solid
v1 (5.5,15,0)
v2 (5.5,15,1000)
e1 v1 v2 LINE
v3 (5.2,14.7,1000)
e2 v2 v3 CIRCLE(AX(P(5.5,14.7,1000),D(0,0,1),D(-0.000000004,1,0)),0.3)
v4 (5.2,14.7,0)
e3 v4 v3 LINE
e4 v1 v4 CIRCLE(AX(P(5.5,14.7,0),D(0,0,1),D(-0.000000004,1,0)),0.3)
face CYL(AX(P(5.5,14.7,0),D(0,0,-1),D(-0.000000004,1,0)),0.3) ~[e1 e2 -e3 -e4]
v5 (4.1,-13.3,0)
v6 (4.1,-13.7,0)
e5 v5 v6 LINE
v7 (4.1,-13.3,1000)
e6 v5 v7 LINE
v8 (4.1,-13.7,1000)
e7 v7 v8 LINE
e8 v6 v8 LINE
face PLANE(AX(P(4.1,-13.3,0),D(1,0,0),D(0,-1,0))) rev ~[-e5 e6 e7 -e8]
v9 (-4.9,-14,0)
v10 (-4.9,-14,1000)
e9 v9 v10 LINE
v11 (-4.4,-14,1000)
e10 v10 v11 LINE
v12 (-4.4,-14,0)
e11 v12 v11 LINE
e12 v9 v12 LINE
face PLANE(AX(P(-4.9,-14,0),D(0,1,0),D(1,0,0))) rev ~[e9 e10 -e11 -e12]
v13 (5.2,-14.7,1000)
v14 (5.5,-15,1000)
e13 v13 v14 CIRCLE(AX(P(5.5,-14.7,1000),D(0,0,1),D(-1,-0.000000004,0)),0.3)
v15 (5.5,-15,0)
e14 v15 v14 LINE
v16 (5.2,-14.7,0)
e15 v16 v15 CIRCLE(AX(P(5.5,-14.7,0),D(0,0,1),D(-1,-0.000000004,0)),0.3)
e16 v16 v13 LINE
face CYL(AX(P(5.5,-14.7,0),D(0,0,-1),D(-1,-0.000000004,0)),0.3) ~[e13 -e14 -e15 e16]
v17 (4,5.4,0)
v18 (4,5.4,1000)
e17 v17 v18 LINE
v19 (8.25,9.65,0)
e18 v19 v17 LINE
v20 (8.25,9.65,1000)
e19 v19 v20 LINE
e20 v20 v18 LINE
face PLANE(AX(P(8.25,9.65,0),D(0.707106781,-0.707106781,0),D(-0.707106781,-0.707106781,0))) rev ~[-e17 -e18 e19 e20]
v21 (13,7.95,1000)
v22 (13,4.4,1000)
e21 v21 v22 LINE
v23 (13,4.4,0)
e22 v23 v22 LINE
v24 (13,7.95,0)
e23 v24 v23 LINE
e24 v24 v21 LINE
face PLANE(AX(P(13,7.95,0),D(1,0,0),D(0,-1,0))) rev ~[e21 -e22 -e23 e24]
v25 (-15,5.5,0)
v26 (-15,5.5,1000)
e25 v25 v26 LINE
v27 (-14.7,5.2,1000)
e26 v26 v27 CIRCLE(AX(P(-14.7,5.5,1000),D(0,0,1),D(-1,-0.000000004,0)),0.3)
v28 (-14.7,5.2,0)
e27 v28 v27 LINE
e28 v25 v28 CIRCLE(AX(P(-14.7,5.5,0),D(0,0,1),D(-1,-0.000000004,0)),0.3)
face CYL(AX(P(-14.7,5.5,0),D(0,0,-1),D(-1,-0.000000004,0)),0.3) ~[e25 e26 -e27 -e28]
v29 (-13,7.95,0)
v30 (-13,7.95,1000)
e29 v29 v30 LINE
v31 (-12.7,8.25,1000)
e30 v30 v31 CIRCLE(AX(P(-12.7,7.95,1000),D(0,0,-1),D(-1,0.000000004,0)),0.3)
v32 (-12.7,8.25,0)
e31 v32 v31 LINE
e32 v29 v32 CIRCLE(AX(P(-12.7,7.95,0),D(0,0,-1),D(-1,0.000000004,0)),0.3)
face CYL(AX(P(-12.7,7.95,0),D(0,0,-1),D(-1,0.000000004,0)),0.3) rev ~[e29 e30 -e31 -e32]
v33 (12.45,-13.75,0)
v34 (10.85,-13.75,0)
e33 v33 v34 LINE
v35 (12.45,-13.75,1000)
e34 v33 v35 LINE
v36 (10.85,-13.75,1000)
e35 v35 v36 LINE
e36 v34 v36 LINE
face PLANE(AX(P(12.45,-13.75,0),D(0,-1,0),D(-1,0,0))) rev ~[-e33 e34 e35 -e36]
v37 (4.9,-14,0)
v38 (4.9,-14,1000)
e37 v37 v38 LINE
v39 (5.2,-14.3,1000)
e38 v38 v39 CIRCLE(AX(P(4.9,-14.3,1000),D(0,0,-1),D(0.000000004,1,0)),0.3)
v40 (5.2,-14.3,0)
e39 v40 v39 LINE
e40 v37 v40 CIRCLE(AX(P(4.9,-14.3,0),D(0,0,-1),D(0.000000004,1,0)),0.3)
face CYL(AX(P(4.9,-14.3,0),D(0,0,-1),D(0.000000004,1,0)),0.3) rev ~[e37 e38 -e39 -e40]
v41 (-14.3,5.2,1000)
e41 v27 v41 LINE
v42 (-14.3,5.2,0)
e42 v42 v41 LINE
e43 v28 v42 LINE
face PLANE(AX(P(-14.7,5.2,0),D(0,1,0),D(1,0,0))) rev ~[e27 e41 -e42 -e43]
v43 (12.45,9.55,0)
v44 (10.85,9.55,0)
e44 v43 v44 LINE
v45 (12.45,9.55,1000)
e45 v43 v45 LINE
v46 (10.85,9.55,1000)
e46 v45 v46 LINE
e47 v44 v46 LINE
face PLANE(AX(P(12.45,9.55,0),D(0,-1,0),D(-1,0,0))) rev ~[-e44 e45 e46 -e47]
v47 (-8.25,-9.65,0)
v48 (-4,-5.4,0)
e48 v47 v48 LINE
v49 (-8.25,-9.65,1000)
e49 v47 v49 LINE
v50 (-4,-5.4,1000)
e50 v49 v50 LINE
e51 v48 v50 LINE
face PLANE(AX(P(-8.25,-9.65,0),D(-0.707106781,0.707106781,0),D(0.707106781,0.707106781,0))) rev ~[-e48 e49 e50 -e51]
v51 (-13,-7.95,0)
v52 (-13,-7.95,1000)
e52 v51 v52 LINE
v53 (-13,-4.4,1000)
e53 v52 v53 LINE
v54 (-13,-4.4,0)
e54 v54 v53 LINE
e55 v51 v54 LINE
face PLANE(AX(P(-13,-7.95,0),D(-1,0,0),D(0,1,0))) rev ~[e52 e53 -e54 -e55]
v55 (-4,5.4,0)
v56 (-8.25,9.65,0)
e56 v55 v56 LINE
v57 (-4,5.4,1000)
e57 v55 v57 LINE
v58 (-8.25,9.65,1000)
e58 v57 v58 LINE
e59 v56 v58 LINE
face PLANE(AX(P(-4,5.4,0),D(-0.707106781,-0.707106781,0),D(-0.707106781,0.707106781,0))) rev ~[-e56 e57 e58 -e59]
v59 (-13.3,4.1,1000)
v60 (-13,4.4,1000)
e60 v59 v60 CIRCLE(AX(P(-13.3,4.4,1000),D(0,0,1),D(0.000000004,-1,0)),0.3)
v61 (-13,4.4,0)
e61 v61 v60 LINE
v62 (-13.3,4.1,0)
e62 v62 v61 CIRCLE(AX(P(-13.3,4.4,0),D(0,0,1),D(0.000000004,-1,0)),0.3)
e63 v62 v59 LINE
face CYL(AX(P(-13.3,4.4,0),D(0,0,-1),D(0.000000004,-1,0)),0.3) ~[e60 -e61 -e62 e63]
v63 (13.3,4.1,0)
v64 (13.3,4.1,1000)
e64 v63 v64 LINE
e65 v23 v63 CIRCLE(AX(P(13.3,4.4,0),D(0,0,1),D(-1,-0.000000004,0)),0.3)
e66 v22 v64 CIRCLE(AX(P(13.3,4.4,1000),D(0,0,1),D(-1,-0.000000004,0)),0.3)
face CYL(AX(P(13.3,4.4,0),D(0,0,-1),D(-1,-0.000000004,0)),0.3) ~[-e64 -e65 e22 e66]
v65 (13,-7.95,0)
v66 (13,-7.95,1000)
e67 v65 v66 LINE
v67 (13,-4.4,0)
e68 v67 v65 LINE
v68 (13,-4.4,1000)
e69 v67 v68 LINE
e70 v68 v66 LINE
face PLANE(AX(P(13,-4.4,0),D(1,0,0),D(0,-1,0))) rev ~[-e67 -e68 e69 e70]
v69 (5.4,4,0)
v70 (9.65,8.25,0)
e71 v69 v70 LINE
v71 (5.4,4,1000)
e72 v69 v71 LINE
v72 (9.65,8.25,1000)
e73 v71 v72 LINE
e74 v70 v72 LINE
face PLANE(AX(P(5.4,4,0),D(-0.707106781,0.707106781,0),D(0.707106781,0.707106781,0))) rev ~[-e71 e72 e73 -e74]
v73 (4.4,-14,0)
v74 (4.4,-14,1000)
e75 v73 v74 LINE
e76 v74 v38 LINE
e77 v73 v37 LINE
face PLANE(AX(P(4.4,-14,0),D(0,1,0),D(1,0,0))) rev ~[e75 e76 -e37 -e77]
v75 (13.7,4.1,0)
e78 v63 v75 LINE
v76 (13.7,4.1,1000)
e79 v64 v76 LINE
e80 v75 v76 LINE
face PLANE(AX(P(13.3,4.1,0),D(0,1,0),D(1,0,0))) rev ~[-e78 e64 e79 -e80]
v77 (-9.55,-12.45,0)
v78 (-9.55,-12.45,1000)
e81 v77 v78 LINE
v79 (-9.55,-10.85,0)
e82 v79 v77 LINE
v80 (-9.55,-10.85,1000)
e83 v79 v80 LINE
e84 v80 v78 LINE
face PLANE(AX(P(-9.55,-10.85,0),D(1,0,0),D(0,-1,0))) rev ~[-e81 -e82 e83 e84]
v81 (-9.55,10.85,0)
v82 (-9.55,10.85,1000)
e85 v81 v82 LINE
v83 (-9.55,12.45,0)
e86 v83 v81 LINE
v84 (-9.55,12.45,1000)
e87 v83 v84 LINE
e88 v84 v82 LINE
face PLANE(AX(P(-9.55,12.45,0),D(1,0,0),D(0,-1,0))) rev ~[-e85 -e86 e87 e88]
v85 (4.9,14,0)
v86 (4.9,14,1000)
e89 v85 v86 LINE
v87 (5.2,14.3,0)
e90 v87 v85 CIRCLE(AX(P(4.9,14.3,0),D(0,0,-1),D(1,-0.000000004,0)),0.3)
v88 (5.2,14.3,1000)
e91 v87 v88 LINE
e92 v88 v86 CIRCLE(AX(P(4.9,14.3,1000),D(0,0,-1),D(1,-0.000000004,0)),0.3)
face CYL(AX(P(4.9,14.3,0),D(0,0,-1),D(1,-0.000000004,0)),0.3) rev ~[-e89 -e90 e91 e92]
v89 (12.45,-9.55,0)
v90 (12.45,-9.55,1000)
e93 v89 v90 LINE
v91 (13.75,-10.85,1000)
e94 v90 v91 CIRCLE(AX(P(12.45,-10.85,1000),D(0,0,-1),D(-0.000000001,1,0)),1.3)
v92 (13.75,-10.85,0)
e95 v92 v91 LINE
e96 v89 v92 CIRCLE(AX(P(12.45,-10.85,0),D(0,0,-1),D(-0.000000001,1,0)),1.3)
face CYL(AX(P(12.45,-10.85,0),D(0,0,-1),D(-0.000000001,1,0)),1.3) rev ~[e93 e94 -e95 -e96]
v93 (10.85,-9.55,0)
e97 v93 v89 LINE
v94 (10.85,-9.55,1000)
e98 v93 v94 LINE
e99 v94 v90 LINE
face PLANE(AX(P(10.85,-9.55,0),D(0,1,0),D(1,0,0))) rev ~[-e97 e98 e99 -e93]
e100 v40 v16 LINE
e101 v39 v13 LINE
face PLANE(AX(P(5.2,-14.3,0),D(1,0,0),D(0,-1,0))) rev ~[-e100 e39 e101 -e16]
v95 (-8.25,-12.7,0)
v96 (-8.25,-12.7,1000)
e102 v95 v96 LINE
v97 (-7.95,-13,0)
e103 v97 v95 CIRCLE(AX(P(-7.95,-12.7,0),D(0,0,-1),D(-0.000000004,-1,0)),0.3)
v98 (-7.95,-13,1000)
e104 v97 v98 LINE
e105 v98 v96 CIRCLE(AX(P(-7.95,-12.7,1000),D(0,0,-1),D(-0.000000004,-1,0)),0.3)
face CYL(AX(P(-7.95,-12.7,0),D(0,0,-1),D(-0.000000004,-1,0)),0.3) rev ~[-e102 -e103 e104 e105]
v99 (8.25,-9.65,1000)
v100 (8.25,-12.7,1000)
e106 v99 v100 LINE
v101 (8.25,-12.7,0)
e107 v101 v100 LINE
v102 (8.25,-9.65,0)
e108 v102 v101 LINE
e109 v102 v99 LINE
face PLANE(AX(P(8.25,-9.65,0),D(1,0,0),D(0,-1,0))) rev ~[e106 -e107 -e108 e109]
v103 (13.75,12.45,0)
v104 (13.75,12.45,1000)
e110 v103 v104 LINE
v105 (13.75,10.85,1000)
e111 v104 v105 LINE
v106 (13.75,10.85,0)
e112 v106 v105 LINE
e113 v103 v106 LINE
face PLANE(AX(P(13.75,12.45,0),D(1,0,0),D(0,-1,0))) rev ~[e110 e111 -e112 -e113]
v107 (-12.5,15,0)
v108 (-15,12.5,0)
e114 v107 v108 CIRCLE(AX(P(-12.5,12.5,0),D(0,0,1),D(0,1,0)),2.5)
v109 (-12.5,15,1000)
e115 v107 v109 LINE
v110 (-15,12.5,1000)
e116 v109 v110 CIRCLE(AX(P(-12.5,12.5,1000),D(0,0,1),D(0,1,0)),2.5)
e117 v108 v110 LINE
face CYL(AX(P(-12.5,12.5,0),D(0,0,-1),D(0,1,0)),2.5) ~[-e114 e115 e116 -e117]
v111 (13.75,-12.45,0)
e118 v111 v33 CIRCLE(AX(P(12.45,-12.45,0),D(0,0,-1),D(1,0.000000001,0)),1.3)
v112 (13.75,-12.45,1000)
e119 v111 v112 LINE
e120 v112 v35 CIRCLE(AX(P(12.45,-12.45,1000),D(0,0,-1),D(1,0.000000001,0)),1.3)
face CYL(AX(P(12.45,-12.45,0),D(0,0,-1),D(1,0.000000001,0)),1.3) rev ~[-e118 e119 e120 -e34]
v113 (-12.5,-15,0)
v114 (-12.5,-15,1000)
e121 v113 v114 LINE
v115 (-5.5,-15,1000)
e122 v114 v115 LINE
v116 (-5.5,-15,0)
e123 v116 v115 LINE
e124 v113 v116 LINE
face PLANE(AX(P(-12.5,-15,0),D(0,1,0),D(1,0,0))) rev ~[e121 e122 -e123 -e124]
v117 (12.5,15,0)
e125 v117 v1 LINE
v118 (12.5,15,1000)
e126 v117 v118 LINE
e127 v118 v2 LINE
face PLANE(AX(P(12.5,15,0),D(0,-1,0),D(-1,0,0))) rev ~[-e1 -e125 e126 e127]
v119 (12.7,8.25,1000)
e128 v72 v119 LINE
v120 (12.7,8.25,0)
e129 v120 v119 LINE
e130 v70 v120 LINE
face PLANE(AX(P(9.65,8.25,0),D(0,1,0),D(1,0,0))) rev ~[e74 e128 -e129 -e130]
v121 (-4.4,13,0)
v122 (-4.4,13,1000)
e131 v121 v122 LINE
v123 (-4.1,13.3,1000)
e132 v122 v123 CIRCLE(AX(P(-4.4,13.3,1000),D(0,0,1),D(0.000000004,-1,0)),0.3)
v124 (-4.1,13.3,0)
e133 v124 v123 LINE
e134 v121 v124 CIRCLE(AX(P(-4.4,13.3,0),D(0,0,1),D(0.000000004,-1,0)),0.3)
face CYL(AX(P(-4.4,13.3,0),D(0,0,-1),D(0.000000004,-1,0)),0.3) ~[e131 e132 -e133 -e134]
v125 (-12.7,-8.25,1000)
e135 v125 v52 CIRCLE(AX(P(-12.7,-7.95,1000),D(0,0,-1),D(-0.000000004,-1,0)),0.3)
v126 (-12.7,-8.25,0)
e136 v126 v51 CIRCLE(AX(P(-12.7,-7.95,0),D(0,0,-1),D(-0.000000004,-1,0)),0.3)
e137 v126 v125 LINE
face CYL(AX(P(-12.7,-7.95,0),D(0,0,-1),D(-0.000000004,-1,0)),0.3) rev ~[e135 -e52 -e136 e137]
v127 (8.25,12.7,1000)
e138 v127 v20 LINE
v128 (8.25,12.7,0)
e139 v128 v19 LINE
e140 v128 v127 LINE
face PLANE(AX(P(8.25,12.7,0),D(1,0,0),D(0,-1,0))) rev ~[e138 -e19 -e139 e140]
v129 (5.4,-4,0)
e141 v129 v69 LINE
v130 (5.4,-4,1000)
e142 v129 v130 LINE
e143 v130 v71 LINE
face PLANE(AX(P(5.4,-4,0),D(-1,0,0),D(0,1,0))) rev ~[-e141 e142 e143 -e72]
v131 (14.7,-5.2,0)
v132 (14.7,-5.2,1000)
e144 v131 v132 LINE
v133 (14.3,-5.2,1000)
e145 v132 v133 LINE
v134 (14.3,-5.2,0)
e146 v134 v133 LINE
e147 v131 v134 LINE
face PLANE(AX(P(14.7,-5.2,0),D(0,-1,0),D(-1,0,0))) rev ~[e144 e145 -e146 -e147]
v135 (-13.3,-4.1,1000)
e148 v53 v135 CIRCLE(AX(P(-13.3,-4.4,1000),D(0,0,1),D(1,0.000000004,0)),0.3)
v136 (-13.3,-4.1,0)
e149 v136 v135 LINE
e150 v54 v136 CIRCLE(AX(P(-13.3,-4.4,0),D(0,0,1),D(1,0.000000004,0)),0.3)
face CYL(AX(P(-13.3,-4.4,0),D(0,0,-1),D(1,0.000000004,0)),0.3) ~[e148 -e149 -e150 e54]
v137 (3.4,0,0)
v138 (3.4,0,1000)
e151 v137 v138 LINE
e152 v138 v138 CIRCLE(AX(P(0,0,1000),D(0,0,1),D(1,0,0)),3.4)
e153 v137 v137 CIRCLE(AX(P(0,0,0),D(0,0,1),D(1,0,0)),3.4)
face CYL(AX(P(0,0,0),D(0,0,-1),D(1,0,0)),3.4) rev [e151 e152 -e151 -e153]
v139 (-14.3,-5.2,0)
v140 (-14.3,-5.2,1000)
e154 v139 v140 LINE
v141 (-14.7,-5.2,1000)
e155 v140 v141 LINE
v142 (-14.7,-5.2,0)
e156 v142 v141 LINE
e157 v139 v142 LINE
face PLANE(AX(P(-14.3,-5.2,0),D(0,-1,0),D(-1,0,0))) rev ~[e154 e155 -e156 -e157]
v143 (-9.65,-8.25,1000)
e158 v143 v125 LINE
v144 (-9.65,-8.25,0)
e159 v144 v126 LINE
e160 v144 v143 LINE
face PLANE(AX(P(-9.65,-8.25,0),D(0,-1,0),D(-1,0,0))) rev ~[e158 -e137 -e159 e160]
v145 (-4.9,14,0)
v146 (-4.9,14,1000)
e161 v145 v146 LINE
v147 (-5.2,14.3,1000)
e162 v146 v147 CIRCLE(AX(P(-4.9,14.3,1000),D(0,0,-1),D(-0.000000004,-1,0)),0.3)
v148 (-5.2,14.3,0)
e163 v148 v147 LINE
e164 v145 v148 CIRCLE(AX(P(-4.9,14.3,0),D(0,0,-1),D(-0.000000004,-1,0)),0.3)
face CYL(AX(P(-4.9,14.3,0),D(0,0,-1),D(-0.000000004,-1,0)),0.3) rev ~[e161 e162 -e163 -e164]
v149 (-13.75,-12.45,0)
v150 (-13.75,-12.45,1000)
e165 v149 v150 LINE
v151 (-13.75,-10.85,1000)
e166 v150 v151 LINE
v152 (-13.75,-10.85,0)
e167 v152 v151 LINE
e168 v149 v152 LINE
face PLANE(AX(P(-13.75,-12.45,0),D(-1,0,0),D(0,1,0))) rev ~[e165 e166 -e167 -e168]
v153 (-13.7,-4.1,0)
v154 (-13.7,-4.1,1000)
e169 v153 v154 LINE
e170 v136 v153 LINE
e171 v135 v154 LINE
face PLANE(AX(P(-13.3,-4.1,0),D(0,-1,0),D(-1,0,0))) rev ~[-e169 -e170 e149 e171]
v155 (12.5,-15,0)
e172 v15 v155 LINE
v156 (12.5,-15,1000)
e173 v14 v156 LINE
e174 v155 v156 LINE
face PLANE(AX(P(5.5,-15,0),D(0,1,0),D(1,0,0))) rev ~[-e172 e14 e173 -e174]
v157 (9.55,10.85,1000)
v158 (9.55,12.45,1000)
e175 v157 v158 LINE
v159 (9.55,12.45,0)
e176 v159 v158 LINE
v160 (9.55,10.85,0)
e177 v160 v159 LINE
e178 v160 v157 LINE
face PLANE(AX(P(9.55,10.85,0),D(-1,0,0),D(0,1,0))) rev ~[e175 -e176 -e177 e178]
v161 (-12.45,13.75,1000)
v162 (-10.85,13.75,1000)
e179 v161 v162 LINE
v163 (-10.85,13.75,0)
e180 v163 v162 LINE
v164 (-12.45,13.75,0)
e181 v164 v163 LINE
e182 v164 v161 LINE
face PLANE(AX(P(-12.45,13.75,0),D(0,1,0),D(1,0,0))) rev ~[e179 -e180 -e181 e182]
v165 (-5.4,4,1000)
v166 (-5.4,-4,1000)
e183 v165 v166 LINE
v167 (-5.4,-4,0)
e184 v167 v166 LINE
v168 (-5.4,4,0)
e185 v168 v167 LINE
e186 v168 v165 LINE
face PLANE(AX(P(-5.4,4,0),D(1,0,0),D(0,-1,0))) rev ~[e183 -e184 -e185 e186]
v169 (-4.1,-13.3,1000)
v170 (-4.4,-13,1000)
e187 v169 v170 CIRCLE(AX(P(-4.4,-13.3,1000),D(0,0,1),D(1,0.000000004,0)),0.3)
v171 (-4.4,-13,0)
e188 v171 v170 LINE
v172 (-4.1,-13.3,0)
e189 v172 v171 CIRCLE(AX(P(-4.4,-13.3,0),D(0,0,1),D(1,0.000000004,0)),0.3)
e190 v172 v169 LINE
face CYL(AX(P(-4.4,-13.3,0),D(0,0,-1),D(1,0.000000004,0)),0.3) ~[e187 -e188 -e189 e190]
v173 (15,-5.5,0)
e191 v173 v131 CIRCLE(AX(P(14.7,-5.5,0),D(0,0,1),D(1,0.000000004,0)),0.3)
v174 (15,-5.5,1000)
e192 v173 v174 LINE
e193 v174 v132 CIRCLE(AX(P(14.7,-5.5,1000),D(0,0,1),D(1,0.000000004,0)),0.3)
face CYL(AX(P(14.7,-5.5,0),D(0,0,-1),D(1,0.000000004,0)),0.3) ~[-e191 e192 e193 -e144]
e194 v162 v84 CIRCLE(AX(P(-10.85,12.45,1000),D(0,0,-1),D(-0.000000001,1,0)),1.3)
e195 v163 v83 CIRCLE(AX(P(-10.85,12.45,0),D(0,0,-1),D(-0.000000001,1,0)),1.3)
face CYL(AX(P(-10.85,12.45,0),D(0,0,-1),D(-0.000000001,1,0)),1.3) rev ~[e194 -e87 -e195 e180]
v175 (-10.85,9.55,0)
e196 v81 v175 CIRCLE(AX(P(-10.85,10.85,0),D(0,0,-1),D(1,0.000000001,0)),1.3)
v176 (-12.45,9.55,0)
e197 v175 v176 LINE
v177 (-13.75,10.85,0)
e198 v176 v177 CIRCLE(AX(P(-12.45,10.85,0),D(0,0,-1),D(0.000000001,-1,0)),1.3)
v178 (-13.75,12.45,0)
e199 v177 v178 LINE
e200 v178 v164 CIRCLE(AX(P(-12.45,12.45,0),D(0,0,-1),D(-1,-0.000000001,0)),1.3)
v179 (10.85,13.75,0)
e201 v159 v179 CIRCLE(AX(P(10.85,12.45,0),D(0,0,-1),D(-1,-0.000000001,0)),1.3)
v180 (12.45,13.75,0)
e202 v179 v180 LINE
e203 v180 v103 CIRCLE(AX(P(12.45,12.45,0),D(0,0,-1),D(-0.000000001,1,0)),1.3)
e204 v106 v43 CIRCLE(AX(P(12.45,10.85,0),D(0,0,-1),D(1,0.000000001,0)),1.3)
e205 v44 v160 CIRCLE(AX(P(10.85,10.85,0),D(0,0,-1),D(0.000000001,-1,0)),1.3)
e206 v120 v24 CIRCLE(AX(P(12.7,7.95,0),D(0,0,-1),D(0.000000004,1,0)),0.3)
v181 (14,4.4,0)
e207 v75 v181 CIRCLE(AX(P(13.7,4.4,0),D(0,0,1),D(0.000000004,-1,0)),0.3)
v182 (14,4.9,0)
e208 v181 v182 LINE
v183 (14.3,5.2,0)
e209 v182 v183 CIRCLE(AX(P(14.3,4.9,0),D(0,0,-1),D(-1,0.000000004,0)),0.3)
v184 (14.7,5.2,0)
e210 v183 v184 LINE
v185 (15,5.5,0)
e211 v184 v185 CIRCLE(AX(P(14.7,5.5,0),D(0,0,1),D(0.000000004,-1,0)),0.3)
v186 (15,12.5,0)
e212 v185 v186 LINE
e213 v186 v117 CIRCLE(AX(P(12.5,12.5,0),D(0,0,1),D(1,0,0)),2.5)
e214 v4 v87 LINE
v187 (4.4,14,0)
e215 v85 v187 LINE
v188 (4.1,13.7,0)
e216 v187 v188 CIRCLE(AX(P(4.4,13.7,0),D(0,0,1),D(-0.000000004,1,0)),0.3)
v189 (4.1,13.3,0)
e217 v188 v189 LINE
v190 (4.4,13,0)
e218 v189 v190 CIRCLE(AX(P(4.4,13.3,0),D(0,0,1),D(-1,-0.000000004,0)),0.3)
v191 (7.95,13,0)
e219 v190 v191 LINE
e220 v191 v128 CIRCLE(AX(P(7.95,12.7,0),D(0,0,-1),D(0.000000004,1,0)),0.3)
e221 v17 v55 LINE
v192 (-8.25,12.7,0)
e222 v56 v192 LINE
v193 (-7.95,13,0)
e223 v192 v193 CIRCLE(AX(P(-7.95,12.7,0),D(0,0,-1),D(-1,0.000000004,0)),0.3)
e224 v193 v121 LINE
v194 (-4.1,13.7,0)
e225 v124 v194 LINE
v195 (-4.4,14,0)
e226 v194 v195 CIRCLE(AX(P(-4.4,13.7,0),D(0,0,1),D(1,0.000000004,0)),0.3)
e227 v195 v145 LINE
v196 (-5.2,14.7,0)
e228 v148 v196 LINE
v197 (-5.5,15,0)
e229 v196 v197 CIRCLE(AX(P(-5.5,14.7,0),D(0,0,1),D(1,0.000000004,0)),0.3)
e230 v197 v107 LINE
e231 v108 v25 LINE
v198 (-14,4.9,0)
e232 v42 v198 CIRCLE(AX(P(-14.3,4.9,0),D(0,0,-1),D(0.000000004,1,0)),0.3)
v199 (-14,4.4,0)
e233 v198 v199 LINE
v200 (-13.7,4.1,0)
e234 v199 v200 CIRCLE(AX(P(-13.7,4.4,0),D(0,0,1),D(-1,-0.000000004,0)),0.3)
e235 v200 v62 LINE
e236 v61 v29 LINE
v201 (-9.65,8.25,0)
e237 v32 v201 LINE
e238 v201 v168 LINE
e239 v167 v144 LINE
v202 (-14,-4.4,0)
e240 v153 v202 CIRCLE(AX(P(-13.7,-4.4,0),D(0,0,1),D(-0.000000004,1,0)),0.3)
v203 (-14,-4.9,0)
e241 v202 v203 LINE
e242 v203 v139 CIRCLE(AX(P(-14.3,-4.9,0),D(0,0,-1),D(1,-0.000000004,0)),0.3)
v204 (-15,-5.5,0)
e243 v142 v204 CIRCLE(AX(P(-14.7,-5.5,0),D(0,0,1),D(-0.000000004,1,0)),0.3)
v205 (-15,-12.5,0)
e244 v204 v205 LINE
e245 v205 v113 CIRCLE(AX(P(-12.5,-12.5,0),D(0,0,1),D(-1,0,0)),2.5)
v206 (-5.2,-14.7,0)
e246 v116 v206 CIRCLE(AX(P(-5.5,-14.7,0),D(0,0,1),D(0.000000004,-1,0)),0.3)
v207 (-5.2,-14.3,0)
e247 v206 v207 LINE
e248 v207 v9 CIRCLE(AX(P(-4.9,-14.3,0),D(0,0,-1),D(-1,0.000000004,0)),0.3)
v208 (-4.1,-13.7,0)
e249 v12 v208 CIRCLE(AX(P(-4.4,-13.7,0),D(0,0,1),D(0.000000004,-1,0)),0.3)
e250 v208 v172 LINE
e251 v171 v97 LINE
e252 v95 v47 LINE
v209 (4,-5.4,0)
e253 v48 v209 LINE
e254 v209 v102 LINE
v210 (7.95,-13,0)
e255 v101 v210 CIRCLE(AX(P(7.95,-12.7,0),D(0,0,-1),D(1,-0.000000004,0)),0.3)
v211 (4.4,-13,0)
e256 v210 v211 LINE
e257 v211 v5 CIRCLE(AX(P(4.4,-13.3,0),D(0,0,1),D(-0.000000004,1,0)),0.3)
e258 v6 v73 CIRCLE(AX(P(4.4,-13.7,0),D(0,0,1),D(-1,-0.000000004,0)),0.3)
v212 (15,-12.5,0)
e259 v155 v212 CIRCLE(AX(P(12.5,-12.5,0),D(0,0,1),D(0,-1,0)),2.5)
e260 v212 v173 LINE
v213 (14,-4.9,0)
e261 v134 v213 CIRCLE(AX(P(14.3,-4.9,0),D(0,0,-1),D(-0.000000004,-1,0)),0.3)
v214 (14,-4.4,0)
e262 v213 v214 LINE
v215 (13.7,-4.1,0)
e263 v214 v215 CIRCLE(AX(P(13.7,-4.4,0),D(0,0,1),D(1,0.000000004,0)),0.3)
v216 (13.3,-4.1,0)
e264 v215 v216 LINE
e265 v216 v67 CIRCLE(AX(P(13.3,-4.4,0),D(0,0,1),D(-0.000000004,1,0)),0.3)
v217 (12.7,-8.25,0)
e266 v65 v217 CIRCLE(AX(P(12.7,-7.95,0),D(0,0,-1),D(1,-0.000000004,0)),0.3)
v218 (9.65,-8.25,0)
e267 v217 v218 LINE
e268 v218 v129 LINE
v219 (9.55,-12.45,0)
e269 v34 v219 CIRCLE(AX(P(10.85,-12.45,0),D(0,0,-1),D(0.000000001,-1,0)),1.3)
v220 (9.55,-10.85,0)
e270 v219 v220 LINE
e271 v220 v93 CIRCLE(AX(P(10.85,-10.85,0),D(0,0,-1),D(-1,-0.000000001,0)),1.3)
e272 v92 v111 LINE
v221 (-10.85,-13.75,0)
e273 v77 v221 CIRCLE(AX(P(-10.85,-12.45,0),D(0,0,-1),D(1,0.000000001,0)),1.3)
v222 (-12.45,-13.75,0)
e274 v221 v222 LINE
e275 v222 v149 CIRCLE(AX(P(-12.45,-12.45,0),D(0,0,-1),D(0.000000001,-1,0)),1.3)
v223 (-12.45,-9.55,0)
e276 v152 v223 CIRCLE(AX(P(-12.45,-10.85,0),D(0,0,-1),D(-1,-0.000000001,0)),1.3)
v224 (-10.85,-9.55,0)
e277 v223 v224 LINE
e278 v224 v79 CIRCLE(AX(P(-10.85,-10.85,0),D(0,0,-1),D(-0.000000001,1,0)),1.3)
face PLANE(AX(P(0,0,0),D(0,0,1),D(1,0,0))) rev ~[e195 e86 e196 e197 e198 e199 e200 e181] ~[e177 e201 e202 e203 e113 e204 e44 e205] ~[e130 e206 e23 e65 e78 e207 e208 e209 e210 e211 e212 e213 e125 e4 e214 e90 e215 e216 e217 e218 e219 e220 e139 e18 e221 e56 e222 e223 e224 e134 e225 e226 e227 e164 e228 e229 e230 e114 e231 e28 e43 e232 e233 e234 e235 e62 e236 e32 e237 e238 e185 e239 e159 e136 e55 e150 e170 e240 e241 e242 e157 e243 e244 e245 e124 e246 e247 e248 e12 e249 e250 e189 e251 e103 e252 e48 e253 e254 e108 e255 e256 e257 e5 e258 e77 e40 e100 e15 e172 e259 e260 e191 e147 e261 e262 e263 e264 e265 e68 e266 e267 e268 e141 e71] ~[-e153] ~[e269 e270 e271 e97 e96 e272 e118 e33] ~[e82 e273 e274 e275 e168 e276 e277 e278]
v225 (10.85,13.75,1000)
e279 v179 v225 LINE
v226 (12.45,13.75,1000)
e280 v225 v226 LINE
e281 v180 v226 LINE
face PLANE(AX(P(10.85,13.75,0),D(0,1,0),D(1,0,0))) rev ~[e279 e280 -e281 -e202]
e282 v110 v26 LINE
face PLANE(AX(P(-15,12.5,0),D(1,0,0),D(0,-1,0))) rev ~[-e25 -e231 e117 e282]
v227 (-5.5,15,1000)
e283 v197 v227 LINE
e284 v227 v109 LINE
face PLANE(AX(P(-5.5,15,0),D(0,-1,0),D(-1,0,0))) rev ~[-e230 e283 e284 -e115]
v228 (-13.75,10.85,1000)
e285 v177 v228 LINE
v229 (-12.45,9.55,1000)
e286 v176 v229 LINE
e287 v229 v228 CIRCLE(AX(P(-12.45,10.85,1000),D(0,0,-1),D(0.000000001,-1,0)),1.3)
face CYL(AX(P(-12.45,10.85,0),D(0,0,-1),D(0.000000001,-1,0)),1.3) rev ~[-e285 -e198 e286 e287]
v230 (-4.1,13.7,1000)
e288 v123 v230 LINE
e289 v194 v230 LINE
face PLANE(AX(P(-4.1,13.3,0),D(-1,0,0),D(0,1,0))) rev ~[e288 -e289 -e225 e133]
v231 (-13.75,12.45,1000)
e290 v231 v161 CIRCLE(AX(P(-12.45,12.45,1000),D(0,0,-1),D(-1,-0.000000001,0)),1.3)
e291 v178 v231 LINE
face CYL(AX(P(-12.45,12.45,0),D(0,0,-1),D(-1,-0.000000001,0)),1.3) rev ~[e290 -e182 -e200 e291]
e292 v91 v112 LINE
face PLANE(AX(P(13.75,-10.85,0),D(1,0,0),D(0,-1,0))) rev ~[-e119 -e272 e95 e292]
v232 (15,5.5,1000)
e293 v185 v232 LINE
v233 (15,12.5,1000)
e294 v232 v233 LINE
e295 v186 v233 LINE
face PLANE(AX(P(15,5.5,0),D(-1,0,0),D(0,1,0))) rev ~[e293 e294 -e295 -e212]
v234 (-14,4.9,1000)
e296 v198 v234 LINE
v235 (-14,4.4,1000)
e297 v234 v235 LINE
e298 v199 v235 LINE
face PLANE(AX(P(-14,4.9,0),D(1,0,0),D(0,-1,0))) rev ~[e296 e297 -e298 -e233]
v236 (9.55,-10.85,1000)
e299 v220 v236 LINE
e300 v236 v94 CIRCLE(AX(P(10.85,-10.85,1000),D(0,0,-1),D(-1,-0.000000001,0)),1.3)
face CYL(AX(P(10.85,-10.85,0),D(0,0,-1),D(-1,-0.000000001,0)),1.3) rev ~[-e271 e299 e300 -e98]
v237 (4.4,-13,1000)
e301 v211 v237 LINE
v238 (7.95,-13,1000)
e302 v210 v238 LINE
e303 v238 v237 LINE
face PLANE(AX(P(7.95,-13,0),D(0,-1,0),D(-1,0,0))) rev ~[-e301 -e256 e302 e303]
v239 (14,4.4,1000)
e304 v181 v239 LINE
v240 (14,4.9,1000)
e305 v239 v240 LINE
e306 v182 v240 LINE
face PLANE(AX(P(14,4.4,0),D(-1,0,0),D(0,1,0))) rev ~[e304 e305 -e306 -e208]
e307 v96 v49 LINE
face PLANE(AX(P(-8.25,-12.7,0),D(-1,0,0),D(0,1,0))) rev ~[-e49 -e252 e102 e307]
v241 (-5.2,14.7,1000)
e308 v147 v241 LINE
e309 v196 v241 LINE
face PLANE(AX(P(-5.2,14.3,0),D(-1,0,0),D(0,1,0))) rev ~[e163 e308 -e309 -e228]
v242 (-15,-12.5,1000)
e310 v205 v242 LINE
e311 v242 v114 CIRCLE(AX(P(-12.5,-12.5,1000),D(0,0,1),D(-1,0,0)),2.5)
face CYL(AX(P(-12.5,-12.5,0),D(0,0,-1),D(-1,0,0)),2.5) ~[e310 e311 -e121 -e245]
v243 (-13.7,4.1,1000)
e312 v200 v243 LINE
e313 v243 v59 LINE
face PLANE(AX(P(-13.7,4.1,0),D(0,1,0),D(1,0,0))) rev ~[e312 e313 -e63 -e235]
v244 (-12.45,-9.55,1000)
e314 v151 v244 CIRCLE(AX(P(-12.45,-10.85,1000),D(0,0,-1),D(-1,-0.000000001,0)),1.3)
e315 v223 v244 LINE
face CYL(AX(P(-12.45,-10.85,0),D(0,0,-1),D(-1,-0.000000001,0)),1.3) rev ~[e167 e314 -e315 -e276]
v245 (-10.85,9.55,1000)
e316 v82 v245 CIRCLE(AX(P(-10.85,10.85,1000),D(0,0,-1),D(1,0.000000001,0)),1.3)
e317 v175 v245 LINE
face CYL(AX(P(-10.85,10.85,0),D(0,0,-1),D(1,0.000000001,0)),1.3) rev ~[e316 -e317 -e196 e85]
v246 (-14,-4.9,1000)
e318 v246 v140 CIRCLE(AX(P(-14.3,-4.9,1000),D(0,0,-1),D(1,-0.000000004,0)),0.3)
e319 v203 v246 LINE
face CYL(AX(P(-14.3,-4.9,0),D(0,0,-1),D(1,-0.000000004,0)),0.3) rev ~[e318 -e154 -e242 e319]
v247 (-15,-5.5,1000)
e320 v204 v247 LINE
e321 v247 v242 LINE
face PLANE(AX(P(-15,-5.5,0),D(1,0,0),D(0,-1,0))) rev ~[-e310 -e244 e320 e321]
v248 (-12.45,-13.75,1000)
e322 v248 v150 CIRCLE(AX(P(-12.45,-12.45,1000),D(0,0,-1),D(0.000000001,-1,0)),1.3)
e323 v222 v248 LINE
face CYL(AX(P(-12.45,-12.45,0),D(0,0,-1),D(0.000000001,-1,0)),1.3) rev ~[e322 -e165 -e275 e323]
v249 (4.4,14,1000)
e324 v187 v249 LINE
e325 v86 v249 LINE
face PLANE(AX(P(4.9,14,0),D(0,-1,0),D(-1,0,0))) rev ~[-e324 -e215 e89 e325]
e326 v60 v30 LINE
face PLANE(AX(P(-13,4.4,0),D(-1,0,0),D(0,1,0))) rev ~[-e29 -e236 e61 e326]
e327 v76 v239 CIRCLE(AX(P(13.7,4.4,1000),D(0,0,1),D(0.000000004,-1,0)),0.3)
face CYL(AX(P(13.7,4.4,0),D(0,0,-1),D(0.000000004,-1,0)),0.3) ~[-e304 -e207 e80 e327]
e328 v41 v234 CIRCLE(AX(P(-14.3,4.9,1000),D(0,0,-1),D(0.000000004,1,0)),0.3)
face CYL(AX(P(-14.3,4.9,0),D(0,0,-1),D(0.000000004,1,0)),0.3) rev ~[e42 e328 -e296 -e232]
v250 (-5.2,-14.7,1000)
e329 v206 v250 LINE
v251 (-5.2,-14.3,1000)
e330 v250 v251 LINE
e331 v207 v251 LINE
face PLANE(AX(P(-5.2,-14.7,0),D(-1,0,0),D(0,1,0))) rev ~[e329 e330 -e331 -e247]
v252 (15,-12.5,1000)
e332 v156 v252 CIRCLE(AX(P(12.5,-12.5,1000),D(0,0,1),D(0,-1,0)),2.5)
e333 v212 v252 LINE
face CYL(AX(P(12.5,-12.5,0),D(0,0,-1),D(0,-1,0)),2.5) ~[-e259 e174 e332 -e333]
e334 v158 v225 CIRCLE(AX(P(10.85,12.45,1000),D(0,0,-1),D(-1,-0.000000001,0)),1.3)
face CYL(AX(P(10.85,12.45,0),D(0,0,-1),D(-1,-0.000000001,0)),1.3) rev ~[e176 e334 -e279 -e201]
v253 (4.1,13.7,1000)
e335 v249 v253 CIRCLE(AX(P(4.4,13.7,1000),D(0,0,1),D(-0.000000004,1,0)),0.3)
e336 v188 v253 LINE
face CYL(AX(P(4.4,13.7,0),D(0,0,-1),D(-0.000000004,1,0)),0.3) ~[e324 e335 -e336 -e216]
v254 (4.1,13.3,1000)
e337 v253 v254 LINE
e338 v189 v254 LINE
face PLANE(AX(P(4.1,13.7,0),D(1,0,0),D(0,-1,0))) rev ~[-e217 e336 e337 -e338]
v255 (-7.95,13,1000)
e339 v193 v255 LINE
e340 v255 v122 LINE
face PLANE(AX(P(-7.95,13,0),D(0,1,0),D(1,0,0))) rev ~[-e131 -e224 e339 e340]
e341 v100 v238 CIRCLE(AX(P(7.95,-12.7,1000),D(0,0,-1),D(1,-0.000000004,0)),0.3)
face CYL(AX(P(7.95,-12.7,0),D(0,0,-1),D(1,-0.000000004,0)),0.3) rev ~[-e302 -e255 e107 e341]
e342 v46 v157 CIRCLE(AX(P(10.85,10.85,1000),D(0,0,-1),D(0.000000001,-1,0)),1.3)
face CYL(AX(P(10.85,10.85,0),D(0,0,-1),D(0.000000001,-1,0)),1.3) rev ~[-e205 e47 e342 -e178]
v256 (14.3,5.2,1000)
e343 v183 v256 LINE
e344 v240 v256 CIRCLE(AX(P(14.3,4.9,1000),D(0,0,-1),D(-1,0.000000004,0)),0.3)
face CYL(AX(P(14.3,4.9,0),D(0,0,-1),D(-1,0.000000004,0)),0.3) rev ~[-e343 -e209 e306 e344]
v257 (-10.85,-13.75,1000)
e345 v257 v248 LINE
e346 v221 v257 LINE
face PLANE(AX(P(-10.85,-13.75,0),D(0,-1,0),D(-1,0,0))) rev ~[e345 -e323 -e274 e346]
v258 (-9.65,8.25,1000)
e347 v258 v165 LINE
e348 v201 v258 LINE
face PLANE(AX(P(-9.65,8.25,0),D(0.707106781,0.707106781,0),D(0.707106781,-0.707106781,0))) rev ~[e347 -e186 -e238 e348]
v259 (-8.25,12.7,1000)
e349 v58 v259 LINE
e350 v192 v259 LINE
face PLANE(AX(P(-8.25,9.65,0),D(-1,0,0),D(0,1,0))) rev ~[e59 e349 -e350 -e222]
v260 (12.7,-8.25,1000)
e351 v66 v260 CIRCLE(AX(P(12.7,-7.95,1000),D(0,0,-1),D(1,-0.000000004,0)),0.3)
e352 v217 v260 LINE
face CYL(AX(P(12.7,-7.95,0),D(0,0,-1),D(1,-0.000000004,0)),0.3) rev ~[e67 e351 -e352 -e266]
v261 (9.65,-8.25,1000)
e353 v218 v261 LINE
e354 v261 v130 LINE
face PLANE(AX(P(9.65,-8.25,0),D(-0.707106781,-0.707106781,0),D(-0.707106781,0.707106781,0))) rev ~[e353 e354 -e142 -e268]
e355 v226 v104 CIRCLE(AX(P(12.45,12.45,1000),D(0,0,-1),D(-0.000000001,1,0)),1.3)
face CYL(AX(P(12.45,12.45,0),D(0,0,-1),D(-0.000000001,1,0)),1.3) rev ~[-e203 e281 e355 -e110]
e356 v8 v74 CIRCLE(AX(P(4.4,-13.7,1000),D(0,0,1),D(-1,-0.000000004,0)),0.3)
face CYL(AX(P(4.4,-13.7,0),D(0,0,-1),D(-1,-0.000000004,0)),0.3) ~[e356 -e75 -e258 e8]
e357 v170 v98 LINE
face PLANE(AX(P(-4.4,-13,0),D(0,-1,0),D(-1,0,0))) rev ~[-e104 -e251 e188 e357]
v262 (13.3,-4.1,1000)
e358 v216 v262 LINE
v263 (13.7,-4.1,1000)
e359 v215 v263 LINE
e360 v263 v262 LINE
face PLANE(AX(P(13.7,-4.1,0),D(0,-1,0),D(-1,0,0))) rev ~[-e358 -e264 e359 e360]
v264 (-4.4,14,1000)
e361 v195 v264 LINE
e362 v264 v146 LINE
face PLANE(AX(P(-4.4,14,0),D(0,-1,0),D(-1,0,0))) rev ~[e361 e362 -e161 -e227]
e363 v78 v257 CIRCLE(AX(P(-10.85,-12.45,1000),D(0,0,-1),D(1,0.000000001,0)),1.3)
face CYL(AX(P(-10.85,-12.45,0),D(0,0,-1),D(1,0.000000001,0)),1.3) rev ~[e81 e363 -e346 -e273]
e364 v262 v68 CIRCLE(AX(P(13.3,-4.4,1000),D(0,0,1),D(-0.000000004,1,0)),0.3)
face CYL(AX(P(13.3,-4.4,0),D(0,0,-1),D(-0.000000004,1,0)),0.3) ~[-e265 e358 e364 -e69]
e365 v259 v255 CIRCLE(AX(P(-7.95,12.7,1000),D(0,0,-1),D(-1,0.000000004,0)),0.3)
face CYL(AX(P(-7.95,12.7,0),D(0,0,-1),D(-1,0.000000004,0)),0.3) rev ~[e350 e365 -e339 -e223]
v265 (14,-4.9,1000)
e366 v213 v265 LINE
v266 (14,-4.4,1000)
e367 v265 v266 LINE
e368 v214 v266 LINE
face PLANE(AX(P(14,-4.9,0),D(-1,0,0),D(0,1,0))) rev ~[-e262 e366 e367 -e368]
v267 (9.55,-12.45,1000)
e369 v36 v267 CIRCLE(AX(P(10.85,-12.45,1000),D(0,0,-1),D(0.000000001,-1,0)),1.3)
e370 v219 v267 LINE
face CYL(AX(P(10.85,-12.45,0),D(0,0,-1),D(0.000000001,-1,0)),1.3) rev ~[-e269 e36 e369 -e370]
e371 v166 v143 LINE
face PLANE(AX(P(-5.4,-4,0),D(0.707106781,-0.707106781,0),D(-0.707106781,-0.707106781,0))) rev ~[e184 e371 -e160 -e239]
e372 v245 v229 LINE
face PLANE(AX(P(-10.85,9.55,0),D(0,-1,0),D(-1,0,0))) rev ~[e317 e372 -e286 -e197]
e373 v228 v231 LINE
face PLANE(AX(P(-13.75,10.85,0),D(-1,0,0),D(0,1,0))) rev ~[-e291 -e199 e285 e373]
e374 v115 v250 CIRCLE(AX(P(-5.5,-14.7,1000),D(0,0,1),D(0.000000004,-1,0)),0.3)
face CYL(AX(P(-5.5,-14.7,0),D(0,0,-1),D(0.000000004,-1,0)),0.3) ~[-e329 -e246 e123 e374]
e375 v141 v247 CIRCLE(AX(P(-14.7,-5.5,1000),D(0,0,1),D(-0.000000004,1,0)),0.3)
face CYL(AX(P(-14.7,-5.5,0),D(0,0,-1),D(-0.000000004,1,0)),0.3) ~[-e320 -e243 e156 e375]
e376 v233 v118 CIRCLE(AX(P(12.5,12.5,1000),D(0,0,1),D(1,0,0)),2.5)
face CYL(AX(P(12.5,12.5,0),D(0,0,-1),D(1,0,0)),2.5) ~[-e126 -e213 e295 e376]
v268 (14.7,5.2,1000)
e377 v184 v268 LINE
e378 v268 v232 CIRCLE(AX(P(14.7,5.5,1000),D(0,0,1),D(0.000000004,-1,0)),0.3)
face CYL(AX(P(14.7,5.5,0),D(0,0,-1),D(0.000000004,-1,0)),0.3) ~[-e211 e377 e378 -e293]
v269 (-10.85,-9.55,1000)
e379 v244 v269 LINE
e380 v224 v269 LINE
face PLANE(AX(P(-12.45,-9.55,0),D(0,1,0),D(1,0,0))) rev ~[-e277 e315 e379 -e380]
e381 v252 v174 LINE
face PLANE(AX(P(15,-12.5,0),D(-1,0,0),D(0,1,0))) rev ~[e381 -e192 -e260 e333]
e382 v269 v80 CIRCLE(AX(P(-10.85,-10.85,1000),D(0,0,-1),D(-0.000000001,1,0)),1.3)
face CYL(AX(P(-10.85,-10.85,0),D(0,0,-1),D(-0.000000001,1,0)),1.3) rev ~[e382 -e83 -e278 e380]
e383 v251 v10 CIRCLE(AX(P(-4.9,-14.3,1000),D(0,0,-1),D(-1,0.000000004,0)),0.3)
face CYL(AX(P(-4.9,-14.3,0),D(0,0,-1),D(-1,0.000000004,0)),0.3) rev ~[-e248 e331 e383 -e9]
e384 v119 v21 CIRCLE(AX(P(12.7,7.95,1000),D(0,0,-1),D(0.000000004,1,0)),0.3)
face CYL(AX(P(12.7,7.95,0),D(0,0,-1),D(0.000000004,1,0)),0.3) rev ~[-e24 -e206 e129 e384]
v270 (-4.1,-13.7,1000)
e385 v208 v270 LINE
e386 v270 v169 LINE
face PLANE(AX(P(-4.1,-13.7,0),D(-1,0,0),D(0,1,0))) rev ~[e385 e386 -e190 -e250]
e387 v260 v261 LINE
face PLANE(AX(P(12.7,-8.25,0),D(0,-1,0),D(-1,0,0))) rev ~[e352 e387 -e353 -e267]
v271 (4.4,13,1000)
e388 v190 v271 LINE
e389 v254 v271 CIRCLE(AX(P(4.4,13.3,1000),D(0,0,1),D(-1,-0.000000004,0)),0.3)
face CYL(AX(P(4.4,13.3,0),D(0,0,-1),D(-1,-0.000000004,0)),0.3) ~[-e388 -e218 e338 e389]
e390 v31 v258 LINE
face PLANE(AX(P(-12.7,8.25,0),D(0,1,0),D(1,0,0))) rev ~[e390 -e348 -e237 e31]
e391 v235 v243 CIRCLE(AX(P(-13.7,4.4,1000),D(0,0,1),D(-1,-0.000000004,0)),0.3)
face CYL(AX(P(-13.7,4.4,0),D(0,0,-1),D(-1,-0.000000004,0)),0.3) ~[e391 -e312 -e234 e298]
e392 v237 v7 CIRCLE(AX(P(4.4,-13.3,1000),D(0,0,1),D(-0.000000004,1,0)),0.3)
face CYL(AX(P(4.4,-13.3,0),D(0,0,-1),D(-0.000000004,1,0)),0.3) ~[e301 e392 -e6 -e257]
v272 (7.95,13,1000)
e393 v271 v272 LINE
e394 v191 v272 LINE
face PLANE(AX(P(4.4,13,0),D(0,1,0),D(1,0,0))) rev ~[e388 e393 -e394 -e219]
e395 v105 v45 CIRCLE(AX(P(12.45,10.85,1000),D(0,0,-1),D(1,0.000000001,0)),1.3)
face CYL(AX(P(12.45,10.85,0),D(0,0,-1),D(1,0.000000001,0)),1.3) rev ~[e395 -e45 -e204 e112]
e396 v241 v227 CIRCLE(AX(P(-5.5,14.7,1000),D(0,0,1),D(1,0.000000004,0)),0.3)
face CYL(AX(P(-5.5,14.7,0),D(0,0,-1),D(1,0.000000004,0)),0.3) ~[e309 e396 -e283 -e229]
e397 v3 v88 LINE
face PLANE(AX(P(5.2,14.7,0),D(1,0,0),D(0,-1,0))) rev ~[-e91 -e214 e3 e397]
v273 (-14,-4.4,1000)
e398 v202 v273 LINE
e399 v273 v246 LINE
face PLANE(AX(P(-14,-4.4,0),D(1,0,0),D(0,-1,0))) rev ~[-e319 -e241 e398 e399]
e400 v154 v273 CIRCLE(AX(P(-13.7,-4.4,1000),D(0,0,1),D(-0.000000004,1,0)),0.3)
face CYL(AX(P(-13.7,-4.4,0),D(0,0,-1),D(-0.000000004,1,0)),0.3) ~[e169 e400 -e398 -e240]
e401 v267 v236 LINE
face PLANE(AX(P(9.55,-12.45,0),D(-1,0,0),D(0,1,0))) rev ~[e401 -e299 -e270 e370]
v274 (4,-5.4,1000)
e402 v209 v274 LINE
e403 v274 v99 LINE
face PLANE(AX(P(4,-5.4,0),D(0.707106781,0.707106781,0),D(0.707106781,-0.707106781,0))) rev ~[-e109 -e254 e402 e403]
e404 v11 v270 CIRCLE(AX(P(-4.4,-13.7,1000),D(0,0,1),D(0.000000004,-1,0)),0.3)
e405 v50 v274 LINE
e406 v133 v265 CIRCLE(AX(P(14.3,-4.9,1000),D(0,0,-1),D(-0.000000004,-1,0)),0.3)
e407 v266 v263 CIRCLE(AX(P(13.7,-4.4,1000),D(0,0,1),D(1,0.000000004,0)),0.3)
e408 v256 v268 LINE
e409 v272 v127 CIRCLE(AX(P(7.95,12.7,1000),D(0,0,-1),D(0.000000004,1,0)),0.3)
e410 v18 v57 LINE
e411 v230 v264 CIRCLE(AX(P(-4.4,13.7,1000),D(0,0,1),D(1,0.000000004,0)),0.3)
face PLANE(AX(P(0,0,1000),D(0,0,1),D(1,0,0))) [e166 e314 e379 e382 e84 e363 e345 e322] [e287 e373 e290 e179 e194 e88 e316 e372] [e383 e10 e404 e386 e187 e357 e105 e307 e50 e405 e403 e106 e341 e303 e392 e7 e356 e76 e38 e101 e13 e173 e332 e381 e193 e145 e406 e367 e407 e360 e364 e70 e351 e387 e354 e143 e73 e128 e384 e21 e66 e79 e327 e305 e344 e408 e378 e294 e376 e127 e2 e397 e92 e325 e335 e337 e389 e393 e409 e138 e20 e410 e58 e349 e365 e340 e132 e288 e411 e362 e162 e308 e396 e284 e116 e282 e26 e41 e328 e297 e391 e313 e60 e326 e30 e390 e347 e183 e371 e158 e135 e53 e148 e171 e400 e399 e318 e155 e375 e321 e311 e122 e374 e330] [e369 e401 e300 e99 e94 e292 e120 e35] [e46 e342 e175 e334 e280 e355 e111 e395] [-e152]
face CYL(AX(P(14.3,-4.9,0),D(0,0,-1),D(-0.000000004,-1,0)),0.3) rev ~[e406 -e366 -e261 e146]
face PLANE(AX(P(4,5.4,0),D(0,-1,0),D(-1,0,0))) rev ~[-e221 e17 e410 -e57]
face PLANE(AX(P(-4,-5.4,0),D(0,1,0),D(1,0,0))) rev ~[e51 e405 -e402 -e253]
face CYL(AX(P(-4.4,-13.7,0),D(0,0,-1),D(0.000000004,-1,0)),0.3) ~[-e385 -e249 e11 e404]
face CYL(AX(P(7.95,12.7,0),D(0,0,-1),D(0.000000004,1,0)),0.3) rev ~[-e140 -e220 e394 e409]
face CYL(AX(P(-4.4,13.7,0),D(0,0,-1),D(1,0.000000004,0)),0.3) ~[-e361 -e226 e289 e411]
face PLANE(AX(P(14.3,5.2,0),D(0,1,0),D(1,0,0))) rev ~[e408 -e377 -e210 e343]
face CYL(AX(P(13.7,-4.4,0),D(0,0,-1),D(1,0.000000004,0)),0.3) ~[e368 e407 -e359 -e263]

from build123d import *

# Parameters (mm, degrees)
SKETCH_1_R      = 3.4
EXTRUDE_1_DEPTH = 1000


with BuildPart() as part:
    # Эскиз1 → Бобышка-Вытянуть1 (new body)
    with BuildSketch(Plane.XY):
        with BuildLine():
            Line((-15, -8.25), (-15, -12.5))
            ThreePointArc((-15, -12.5), (-14.267766953, -14.267766953), (-12.5, -15))
            Line((-12.5, -15), (-8.25, -15))
            Line((-8.25, -15), (-5.5, -15))
            ThreePointArc((-5.5, -15), (-5.287867966, -14.912132034), (-5.2, -14.7))
            Line((-5.2, -14.7), (-5.2, -14.3))
            ThreePointArc((-5.2, -14.3), (-5.112132034, -14.087867966), (-4.9, -14))
            Line((-4.9, -14), (-4.4, -14))
            ThreePointArc((-4.4, -14), (-4.187867966, -13.912132034), (-4.1, -13.7))
            Line((-4.1, -13.7), (-4.1, -13.3))
            ThreePointArc((-4.1, -13.3), (-4.187867966, -13.087867966), (-4.4, -13))
            Line((-4.4, -13), (-7.95, -13))
            ThreePointArc((-7.95, -13), (-8.162132034, -12.912132034), (-8.25, -12.7))
            Line((-8.25, -12.7), (-8.25, -9.65))
            Line((-8.25, -9.65), (-4, -5.4))
            Line((-4, -5.4), (4, -5.4))
            Line((4, -5.4), (8.25, -9.65))
            Line((8.25, -9.65), (8.25, -12.7))
            ThreePointArc((8.25, -12.7), (8.162132034, -12.912132034), (7.95, -13))
            Line((7.95, -13), (4.4, -13))
            ThreePointArc((4.4, -13), (4.187867966, -13.087867966), (4.1, -13.3))
            Line((4.1, -13.3), (4.1, -13.7))
            ThreePointArc((4.1, -13.7), (4.187867966, -13.912132034), (4.4, -14))
            Line((4.4, -14), (4.9, -14))
            ThreePointArc((4.9, -14), (5.112132034, -14.087867966), (5.2, -14.3))
            Line((5.2, -14.3), (5.2, -14.7))
            ThreePointArc((5.2, -14.7), (5.287867966, -14.912132034), (5.5, -15))
            Line((5.5, -15), (8.25, -15))
            Line((8.25, -15), (12.5, -15))
            ThreePointArc((12.5, -15), (14.267766953, -14.267766953), (15, -12.5))
            Line((15, -12.5), (15, -8.25))
            Line((15, -8.25), (15, -5.5))
            ThreePointArc((15, -5.5), (14.912132034, -5.287867966), (14.7, -5.2))
            Line((14.7, -5.2), (14.3, -5.2))
            ThreePointArc((14.3, -5.2), (14.087867966, -5.112132034), (14, -4.9))
            Line((14, -4.9), (14, -4.4))
            ThreePointArc((14, -4.4), (13.912132034, -4.187867966), (13.7, -4.1))
            Line((13.7, -4.1), (13.3, -4.1))
            ThreePointArc((13.3, -4.1), (13.087867966, -4.187867966), (13, -4.4))
            Line((13, -4.4), (13, -7.95))
            ThreePointArc((13, -7.95), (12.912132034, -8.162132034), (12.7, -8.25))
            Line((12.7, -8.25), (9.65, -8.25))
            Line((9.65, -8.25), (5.4, -4))
            Line((5.4, -4), (5.4, 4))
            Line((5.4, 4), (9.65, 8.25))
            Line((9.65, 8.25), (12.7, 8.25))
            ThreePointArc((12.7, 8.25), (12.912132034, 8.162132034), (13, 7.95))
            Line((13, 7.95), (13, 4.4))
            ThreePointArc((13, 4.4), (13.087867966, 4.187867966), (13.3, 4.1))
            Line((13.3, 4.1), (13.7, 4.1))
            ThreePointArc((13.7, 4.1), (13.912132034, 4.187867966), (14, 4.4))
            Line((14, 4.4), (14, 4.9))
            ThreePointArc((14, 4.9), (14.087867966, 5.112132034), (14.3, 5.2))
            Line((14.3, 5.2), (14.7, 5.2))
            ThreePointArc((14.7, 5.2), (14.912132034, 5.287867966), (15, 5.5))
            Line((15, 5.5), (15, 8.25))
            Line((15, 8.25), (15, 12.5))
            ThreePointArc((15, 12.5), (14.267766953, 14.267766953), (12.5, 15))
            Line((12.5, 15), (8.25, 15))
            Line((8.25, 15), (5.5, 15))
            ThreePointArc((5.5, 15), (5.287867966, 14.912132034), (5.2, 14.7))
            Line((5.2, 14.7), (5.2, 14.3))
            ThreePointArc((5.2, 14.3), (5.112132034, 14.087867966), (4.9, 14))
            Line((4.9, 14), (4.4, 14))
            ThreePointArc((4.4, 14), (4.187867966, 13.912132034), (4.1, 13.7))
            Line((4.1, 13.7), (4.1, 13.3))
            ThreePointArc((4.1, 13.3), (4.187867966, 13.087867966), (4.4, 13))
            Line((4.4, 13), (7.95, 13))
            ThreePointArc((7.95, 13), (8.162132034, 12.912132034), (8.25, 12.7))
            Line((8.25, 12.7), (8.25, 9.65))
            Line((8.25, 9.65), (4, 5.4))
            Line((4, 5.4), (-4, 5.4))
            Line((-4, 5.4), (-8.25, 9.65))
            Line((-8.25, 9.65), (-8.25, 12.7))
            ThreePointArc((-8.25, 12.7), (-8.162132034, 12.912132034), (-7.95, 13))
            Line((-7.95, 13), (-4.4, 13))
            ThreePointArc((-4.4, 13), (-4.187867966, 13.087867966), (-4.1, 13.3))
            Line((-4.1, 13.3), (-4.1, 13.7))
            ThreePointArc((-4.1, 13.7), (-4.187867966, 13.912132034), (-4.4, 14))
            Line((-4.4, 14), (-4.9, 14))
            ThreePointArc((-4.9, 14), (-5.112132034, 14.087867966), (-5.2, 14.3))
            Line((-5.2, 14.3), (-5.2, 14.7))
            ThreePointArc((-5.2, 14.7), (-5.287867966, 14.912132034), (-5.5, 15))
            Line((-5.5, 15), (-8.25, 15))
            Line((-8.25, 15), (-12.5, 15))
            ThreePointArc((-12.5, 15), (-14.267766953, 14.267766953), (-15, 12.5))
            Line((-15, 12.5), (-15, 8.25))
            Line((-15, 8.25), (-15, 5.5))
            ThreePointArc((-15, 5.5), (-14.912132034, 5.287867966), (-14.7, 5.2))
            Line((-14.7, 5.2), (-14.3, 5.2))
            ThreePointArc((-14.3, 5.2), (-14.087867966, 5.112132034), (-14, 4.9))
            Line((-14, 4.9), (-14, 4.4))
            ThreePointArc((-14, 4.4), (-13.912132034, 4.187867966), (-13.7, 4.1))
            Line((-13.7, 4.1), (-13.3, 4.1))
            ThreePointArc((-13.3, 4.1), (-13.087867966, 4.187867966), (-13, 4.4))
            Line((-13, 4.4), (-13, 7.95))
            ThreePointArc((-13, 7.95), (-12.912132034, 8.162132034), (-12.7, 8.25))
            Line((-12.7, 8.25), (-9.65, 8.25))
            Line((-9.65, 8.25), (-5.4, 4))
            Line((-5.4, 4), (-5.4, -4))
            Line((-5.4, -4), (-9.65, -8.25))
            Line((-9.65, -8.25), (-12.7, -8.25))
            ThreePointArc((-12.7, -8.25), (-12.912132034, -8.162132034), (-13, -7.95))
            Line((-13, -7.95), (-13, -4.4))
            ThreePointArc((-13, -4.4), (-13.087867966, -4.187867966), (-13.3, -4.1))
            Line((-13.3, -4.1), (-13.7, -4.1))
            ThreePointArc((-13.7, -4.1), (-13.912132034, -4.187867966), (-14, -4.4))
            Line((-14, -4.4), (-14, -4.9))
            ThreePointArc((-14, -4.9), (-14.087867966, -5.112132034), (-14.3, -5.2))
            Line((-14.3, -5.2), (-14.7, -5.2))
            ThreePointArc((-14.7, -5.2), (-14.912132034, -5.287867966), (-15, -5.5))
            Line((-15, -5.5), (-15, -8.25))
        make_face()
        Circle(SKETCH_1_R, mode=Mode.SUBTRACT)
        with BuildLine():
            Line((-12.45, -9.55), (-10.85, -9.55))
            ThreePointArc((-10.85, -9.55), (-9.930761184, -9.930761184), (-9.55, -10.85))
            Line((-9.55, -10.85), (-9.55, -12.45))
            ThreePointArc((-9.55, -12.45), (-9.930761184, -13.369238816), (-10.85, -13.75))
            Line((-10.85, -13.75), (-12.45, -13.75))
            ThreePointArc((-12.45, -13.75), (-13.369238816, -13.369238816), (-13.75, -12.45))
            Line((-13.75, -12.45), (-13.75, -10.85))
            ThreePointArc((-13.75, -10.85), (-13.369238816, -9.930761184), (-12.45, -9.55))
        make_face(mode=Mode.SUBTRACT)
        with BuildLine():
            Line((-9.55, 12.45), (-9.55, 10.85))
            ThreePointArc((-9.55, 10.85), (-9.930761184, 9.930761184), (-10.85, 9.55))
            Line((-10.85, 9.55), (-12.45, 9.55))
            ThreePointArc((-12.45, 9.55), (-13.369238816, 9.930761184), (-13.75, 10.85))
            Line((-13.75, 10.85), (-13.75, 12.45))
            ThreePointArc((-13.75, 12.45), (-13.369238816, 13.369238816), (-12.45, 13.75))
            Line((-12.45, 13.75), (-10.85, 13.75))
            ThreePointArc((-10.85, 13.75), (-9.930761184, 13.369238816), (-9.55, 12.45))
        make_face(mode=Mode.SUBTRACT)
        with BuildLine():
            Line((12.45, 9.55), (10.85, 9.55))
            ThreePointArc((10.85, 9.55), (9.930761184, 9.930761184), (9.55, 10.85))
            Line((9.55, 10.85), (9.55, 12.45))
            ThreePointArc((9.55, 12.45), (9.930761184, 13.369238816), (10.85, 13.75))
            Line((10.85, 13.75), (12.45, 13.75))
            ThreePointArc((12.45, 13.75), (13.369238816, 13.369238816), (13.75, 12.45))
            Line((13.75, 12.45), (13.75, 10.85))
            ThreePointArc((13.75, 10.85), (13.369238816, 9.930761184), (12.45, 9.55))
        make_face(mode=Mode.SUBTRACT)
        with BuildLine():
            Line((9.55, -12.45), (9.55, -10.85))
            ThreePointArc((9.55, -10.85), (9.930761184, -9.930761184), (10.85, -9.55))
            Line((10.85, -9.55), (12.45, -9.55))
            ThreePointArc((12.45, -9.55), (13.369238816, -9.930761184), (13.75, -10.85))
            Line((13.75, -10.85), (13.75, -12.45))
            ThreePointArc((13.75, -12.45), (13.369238816, -13.369238816), (12.45, -13.75))
            Line((12.45, -13.75), (10.85, -13.75))
            ThreePointArc((10.85, -13.75), (9.930761184, -13.369238816), (9.55, -12.45))
        make_face(mode=Mode.SUBTRACT)
    extrude(amount=EXTRUDE_1_DEPTH)


solid = part.part
